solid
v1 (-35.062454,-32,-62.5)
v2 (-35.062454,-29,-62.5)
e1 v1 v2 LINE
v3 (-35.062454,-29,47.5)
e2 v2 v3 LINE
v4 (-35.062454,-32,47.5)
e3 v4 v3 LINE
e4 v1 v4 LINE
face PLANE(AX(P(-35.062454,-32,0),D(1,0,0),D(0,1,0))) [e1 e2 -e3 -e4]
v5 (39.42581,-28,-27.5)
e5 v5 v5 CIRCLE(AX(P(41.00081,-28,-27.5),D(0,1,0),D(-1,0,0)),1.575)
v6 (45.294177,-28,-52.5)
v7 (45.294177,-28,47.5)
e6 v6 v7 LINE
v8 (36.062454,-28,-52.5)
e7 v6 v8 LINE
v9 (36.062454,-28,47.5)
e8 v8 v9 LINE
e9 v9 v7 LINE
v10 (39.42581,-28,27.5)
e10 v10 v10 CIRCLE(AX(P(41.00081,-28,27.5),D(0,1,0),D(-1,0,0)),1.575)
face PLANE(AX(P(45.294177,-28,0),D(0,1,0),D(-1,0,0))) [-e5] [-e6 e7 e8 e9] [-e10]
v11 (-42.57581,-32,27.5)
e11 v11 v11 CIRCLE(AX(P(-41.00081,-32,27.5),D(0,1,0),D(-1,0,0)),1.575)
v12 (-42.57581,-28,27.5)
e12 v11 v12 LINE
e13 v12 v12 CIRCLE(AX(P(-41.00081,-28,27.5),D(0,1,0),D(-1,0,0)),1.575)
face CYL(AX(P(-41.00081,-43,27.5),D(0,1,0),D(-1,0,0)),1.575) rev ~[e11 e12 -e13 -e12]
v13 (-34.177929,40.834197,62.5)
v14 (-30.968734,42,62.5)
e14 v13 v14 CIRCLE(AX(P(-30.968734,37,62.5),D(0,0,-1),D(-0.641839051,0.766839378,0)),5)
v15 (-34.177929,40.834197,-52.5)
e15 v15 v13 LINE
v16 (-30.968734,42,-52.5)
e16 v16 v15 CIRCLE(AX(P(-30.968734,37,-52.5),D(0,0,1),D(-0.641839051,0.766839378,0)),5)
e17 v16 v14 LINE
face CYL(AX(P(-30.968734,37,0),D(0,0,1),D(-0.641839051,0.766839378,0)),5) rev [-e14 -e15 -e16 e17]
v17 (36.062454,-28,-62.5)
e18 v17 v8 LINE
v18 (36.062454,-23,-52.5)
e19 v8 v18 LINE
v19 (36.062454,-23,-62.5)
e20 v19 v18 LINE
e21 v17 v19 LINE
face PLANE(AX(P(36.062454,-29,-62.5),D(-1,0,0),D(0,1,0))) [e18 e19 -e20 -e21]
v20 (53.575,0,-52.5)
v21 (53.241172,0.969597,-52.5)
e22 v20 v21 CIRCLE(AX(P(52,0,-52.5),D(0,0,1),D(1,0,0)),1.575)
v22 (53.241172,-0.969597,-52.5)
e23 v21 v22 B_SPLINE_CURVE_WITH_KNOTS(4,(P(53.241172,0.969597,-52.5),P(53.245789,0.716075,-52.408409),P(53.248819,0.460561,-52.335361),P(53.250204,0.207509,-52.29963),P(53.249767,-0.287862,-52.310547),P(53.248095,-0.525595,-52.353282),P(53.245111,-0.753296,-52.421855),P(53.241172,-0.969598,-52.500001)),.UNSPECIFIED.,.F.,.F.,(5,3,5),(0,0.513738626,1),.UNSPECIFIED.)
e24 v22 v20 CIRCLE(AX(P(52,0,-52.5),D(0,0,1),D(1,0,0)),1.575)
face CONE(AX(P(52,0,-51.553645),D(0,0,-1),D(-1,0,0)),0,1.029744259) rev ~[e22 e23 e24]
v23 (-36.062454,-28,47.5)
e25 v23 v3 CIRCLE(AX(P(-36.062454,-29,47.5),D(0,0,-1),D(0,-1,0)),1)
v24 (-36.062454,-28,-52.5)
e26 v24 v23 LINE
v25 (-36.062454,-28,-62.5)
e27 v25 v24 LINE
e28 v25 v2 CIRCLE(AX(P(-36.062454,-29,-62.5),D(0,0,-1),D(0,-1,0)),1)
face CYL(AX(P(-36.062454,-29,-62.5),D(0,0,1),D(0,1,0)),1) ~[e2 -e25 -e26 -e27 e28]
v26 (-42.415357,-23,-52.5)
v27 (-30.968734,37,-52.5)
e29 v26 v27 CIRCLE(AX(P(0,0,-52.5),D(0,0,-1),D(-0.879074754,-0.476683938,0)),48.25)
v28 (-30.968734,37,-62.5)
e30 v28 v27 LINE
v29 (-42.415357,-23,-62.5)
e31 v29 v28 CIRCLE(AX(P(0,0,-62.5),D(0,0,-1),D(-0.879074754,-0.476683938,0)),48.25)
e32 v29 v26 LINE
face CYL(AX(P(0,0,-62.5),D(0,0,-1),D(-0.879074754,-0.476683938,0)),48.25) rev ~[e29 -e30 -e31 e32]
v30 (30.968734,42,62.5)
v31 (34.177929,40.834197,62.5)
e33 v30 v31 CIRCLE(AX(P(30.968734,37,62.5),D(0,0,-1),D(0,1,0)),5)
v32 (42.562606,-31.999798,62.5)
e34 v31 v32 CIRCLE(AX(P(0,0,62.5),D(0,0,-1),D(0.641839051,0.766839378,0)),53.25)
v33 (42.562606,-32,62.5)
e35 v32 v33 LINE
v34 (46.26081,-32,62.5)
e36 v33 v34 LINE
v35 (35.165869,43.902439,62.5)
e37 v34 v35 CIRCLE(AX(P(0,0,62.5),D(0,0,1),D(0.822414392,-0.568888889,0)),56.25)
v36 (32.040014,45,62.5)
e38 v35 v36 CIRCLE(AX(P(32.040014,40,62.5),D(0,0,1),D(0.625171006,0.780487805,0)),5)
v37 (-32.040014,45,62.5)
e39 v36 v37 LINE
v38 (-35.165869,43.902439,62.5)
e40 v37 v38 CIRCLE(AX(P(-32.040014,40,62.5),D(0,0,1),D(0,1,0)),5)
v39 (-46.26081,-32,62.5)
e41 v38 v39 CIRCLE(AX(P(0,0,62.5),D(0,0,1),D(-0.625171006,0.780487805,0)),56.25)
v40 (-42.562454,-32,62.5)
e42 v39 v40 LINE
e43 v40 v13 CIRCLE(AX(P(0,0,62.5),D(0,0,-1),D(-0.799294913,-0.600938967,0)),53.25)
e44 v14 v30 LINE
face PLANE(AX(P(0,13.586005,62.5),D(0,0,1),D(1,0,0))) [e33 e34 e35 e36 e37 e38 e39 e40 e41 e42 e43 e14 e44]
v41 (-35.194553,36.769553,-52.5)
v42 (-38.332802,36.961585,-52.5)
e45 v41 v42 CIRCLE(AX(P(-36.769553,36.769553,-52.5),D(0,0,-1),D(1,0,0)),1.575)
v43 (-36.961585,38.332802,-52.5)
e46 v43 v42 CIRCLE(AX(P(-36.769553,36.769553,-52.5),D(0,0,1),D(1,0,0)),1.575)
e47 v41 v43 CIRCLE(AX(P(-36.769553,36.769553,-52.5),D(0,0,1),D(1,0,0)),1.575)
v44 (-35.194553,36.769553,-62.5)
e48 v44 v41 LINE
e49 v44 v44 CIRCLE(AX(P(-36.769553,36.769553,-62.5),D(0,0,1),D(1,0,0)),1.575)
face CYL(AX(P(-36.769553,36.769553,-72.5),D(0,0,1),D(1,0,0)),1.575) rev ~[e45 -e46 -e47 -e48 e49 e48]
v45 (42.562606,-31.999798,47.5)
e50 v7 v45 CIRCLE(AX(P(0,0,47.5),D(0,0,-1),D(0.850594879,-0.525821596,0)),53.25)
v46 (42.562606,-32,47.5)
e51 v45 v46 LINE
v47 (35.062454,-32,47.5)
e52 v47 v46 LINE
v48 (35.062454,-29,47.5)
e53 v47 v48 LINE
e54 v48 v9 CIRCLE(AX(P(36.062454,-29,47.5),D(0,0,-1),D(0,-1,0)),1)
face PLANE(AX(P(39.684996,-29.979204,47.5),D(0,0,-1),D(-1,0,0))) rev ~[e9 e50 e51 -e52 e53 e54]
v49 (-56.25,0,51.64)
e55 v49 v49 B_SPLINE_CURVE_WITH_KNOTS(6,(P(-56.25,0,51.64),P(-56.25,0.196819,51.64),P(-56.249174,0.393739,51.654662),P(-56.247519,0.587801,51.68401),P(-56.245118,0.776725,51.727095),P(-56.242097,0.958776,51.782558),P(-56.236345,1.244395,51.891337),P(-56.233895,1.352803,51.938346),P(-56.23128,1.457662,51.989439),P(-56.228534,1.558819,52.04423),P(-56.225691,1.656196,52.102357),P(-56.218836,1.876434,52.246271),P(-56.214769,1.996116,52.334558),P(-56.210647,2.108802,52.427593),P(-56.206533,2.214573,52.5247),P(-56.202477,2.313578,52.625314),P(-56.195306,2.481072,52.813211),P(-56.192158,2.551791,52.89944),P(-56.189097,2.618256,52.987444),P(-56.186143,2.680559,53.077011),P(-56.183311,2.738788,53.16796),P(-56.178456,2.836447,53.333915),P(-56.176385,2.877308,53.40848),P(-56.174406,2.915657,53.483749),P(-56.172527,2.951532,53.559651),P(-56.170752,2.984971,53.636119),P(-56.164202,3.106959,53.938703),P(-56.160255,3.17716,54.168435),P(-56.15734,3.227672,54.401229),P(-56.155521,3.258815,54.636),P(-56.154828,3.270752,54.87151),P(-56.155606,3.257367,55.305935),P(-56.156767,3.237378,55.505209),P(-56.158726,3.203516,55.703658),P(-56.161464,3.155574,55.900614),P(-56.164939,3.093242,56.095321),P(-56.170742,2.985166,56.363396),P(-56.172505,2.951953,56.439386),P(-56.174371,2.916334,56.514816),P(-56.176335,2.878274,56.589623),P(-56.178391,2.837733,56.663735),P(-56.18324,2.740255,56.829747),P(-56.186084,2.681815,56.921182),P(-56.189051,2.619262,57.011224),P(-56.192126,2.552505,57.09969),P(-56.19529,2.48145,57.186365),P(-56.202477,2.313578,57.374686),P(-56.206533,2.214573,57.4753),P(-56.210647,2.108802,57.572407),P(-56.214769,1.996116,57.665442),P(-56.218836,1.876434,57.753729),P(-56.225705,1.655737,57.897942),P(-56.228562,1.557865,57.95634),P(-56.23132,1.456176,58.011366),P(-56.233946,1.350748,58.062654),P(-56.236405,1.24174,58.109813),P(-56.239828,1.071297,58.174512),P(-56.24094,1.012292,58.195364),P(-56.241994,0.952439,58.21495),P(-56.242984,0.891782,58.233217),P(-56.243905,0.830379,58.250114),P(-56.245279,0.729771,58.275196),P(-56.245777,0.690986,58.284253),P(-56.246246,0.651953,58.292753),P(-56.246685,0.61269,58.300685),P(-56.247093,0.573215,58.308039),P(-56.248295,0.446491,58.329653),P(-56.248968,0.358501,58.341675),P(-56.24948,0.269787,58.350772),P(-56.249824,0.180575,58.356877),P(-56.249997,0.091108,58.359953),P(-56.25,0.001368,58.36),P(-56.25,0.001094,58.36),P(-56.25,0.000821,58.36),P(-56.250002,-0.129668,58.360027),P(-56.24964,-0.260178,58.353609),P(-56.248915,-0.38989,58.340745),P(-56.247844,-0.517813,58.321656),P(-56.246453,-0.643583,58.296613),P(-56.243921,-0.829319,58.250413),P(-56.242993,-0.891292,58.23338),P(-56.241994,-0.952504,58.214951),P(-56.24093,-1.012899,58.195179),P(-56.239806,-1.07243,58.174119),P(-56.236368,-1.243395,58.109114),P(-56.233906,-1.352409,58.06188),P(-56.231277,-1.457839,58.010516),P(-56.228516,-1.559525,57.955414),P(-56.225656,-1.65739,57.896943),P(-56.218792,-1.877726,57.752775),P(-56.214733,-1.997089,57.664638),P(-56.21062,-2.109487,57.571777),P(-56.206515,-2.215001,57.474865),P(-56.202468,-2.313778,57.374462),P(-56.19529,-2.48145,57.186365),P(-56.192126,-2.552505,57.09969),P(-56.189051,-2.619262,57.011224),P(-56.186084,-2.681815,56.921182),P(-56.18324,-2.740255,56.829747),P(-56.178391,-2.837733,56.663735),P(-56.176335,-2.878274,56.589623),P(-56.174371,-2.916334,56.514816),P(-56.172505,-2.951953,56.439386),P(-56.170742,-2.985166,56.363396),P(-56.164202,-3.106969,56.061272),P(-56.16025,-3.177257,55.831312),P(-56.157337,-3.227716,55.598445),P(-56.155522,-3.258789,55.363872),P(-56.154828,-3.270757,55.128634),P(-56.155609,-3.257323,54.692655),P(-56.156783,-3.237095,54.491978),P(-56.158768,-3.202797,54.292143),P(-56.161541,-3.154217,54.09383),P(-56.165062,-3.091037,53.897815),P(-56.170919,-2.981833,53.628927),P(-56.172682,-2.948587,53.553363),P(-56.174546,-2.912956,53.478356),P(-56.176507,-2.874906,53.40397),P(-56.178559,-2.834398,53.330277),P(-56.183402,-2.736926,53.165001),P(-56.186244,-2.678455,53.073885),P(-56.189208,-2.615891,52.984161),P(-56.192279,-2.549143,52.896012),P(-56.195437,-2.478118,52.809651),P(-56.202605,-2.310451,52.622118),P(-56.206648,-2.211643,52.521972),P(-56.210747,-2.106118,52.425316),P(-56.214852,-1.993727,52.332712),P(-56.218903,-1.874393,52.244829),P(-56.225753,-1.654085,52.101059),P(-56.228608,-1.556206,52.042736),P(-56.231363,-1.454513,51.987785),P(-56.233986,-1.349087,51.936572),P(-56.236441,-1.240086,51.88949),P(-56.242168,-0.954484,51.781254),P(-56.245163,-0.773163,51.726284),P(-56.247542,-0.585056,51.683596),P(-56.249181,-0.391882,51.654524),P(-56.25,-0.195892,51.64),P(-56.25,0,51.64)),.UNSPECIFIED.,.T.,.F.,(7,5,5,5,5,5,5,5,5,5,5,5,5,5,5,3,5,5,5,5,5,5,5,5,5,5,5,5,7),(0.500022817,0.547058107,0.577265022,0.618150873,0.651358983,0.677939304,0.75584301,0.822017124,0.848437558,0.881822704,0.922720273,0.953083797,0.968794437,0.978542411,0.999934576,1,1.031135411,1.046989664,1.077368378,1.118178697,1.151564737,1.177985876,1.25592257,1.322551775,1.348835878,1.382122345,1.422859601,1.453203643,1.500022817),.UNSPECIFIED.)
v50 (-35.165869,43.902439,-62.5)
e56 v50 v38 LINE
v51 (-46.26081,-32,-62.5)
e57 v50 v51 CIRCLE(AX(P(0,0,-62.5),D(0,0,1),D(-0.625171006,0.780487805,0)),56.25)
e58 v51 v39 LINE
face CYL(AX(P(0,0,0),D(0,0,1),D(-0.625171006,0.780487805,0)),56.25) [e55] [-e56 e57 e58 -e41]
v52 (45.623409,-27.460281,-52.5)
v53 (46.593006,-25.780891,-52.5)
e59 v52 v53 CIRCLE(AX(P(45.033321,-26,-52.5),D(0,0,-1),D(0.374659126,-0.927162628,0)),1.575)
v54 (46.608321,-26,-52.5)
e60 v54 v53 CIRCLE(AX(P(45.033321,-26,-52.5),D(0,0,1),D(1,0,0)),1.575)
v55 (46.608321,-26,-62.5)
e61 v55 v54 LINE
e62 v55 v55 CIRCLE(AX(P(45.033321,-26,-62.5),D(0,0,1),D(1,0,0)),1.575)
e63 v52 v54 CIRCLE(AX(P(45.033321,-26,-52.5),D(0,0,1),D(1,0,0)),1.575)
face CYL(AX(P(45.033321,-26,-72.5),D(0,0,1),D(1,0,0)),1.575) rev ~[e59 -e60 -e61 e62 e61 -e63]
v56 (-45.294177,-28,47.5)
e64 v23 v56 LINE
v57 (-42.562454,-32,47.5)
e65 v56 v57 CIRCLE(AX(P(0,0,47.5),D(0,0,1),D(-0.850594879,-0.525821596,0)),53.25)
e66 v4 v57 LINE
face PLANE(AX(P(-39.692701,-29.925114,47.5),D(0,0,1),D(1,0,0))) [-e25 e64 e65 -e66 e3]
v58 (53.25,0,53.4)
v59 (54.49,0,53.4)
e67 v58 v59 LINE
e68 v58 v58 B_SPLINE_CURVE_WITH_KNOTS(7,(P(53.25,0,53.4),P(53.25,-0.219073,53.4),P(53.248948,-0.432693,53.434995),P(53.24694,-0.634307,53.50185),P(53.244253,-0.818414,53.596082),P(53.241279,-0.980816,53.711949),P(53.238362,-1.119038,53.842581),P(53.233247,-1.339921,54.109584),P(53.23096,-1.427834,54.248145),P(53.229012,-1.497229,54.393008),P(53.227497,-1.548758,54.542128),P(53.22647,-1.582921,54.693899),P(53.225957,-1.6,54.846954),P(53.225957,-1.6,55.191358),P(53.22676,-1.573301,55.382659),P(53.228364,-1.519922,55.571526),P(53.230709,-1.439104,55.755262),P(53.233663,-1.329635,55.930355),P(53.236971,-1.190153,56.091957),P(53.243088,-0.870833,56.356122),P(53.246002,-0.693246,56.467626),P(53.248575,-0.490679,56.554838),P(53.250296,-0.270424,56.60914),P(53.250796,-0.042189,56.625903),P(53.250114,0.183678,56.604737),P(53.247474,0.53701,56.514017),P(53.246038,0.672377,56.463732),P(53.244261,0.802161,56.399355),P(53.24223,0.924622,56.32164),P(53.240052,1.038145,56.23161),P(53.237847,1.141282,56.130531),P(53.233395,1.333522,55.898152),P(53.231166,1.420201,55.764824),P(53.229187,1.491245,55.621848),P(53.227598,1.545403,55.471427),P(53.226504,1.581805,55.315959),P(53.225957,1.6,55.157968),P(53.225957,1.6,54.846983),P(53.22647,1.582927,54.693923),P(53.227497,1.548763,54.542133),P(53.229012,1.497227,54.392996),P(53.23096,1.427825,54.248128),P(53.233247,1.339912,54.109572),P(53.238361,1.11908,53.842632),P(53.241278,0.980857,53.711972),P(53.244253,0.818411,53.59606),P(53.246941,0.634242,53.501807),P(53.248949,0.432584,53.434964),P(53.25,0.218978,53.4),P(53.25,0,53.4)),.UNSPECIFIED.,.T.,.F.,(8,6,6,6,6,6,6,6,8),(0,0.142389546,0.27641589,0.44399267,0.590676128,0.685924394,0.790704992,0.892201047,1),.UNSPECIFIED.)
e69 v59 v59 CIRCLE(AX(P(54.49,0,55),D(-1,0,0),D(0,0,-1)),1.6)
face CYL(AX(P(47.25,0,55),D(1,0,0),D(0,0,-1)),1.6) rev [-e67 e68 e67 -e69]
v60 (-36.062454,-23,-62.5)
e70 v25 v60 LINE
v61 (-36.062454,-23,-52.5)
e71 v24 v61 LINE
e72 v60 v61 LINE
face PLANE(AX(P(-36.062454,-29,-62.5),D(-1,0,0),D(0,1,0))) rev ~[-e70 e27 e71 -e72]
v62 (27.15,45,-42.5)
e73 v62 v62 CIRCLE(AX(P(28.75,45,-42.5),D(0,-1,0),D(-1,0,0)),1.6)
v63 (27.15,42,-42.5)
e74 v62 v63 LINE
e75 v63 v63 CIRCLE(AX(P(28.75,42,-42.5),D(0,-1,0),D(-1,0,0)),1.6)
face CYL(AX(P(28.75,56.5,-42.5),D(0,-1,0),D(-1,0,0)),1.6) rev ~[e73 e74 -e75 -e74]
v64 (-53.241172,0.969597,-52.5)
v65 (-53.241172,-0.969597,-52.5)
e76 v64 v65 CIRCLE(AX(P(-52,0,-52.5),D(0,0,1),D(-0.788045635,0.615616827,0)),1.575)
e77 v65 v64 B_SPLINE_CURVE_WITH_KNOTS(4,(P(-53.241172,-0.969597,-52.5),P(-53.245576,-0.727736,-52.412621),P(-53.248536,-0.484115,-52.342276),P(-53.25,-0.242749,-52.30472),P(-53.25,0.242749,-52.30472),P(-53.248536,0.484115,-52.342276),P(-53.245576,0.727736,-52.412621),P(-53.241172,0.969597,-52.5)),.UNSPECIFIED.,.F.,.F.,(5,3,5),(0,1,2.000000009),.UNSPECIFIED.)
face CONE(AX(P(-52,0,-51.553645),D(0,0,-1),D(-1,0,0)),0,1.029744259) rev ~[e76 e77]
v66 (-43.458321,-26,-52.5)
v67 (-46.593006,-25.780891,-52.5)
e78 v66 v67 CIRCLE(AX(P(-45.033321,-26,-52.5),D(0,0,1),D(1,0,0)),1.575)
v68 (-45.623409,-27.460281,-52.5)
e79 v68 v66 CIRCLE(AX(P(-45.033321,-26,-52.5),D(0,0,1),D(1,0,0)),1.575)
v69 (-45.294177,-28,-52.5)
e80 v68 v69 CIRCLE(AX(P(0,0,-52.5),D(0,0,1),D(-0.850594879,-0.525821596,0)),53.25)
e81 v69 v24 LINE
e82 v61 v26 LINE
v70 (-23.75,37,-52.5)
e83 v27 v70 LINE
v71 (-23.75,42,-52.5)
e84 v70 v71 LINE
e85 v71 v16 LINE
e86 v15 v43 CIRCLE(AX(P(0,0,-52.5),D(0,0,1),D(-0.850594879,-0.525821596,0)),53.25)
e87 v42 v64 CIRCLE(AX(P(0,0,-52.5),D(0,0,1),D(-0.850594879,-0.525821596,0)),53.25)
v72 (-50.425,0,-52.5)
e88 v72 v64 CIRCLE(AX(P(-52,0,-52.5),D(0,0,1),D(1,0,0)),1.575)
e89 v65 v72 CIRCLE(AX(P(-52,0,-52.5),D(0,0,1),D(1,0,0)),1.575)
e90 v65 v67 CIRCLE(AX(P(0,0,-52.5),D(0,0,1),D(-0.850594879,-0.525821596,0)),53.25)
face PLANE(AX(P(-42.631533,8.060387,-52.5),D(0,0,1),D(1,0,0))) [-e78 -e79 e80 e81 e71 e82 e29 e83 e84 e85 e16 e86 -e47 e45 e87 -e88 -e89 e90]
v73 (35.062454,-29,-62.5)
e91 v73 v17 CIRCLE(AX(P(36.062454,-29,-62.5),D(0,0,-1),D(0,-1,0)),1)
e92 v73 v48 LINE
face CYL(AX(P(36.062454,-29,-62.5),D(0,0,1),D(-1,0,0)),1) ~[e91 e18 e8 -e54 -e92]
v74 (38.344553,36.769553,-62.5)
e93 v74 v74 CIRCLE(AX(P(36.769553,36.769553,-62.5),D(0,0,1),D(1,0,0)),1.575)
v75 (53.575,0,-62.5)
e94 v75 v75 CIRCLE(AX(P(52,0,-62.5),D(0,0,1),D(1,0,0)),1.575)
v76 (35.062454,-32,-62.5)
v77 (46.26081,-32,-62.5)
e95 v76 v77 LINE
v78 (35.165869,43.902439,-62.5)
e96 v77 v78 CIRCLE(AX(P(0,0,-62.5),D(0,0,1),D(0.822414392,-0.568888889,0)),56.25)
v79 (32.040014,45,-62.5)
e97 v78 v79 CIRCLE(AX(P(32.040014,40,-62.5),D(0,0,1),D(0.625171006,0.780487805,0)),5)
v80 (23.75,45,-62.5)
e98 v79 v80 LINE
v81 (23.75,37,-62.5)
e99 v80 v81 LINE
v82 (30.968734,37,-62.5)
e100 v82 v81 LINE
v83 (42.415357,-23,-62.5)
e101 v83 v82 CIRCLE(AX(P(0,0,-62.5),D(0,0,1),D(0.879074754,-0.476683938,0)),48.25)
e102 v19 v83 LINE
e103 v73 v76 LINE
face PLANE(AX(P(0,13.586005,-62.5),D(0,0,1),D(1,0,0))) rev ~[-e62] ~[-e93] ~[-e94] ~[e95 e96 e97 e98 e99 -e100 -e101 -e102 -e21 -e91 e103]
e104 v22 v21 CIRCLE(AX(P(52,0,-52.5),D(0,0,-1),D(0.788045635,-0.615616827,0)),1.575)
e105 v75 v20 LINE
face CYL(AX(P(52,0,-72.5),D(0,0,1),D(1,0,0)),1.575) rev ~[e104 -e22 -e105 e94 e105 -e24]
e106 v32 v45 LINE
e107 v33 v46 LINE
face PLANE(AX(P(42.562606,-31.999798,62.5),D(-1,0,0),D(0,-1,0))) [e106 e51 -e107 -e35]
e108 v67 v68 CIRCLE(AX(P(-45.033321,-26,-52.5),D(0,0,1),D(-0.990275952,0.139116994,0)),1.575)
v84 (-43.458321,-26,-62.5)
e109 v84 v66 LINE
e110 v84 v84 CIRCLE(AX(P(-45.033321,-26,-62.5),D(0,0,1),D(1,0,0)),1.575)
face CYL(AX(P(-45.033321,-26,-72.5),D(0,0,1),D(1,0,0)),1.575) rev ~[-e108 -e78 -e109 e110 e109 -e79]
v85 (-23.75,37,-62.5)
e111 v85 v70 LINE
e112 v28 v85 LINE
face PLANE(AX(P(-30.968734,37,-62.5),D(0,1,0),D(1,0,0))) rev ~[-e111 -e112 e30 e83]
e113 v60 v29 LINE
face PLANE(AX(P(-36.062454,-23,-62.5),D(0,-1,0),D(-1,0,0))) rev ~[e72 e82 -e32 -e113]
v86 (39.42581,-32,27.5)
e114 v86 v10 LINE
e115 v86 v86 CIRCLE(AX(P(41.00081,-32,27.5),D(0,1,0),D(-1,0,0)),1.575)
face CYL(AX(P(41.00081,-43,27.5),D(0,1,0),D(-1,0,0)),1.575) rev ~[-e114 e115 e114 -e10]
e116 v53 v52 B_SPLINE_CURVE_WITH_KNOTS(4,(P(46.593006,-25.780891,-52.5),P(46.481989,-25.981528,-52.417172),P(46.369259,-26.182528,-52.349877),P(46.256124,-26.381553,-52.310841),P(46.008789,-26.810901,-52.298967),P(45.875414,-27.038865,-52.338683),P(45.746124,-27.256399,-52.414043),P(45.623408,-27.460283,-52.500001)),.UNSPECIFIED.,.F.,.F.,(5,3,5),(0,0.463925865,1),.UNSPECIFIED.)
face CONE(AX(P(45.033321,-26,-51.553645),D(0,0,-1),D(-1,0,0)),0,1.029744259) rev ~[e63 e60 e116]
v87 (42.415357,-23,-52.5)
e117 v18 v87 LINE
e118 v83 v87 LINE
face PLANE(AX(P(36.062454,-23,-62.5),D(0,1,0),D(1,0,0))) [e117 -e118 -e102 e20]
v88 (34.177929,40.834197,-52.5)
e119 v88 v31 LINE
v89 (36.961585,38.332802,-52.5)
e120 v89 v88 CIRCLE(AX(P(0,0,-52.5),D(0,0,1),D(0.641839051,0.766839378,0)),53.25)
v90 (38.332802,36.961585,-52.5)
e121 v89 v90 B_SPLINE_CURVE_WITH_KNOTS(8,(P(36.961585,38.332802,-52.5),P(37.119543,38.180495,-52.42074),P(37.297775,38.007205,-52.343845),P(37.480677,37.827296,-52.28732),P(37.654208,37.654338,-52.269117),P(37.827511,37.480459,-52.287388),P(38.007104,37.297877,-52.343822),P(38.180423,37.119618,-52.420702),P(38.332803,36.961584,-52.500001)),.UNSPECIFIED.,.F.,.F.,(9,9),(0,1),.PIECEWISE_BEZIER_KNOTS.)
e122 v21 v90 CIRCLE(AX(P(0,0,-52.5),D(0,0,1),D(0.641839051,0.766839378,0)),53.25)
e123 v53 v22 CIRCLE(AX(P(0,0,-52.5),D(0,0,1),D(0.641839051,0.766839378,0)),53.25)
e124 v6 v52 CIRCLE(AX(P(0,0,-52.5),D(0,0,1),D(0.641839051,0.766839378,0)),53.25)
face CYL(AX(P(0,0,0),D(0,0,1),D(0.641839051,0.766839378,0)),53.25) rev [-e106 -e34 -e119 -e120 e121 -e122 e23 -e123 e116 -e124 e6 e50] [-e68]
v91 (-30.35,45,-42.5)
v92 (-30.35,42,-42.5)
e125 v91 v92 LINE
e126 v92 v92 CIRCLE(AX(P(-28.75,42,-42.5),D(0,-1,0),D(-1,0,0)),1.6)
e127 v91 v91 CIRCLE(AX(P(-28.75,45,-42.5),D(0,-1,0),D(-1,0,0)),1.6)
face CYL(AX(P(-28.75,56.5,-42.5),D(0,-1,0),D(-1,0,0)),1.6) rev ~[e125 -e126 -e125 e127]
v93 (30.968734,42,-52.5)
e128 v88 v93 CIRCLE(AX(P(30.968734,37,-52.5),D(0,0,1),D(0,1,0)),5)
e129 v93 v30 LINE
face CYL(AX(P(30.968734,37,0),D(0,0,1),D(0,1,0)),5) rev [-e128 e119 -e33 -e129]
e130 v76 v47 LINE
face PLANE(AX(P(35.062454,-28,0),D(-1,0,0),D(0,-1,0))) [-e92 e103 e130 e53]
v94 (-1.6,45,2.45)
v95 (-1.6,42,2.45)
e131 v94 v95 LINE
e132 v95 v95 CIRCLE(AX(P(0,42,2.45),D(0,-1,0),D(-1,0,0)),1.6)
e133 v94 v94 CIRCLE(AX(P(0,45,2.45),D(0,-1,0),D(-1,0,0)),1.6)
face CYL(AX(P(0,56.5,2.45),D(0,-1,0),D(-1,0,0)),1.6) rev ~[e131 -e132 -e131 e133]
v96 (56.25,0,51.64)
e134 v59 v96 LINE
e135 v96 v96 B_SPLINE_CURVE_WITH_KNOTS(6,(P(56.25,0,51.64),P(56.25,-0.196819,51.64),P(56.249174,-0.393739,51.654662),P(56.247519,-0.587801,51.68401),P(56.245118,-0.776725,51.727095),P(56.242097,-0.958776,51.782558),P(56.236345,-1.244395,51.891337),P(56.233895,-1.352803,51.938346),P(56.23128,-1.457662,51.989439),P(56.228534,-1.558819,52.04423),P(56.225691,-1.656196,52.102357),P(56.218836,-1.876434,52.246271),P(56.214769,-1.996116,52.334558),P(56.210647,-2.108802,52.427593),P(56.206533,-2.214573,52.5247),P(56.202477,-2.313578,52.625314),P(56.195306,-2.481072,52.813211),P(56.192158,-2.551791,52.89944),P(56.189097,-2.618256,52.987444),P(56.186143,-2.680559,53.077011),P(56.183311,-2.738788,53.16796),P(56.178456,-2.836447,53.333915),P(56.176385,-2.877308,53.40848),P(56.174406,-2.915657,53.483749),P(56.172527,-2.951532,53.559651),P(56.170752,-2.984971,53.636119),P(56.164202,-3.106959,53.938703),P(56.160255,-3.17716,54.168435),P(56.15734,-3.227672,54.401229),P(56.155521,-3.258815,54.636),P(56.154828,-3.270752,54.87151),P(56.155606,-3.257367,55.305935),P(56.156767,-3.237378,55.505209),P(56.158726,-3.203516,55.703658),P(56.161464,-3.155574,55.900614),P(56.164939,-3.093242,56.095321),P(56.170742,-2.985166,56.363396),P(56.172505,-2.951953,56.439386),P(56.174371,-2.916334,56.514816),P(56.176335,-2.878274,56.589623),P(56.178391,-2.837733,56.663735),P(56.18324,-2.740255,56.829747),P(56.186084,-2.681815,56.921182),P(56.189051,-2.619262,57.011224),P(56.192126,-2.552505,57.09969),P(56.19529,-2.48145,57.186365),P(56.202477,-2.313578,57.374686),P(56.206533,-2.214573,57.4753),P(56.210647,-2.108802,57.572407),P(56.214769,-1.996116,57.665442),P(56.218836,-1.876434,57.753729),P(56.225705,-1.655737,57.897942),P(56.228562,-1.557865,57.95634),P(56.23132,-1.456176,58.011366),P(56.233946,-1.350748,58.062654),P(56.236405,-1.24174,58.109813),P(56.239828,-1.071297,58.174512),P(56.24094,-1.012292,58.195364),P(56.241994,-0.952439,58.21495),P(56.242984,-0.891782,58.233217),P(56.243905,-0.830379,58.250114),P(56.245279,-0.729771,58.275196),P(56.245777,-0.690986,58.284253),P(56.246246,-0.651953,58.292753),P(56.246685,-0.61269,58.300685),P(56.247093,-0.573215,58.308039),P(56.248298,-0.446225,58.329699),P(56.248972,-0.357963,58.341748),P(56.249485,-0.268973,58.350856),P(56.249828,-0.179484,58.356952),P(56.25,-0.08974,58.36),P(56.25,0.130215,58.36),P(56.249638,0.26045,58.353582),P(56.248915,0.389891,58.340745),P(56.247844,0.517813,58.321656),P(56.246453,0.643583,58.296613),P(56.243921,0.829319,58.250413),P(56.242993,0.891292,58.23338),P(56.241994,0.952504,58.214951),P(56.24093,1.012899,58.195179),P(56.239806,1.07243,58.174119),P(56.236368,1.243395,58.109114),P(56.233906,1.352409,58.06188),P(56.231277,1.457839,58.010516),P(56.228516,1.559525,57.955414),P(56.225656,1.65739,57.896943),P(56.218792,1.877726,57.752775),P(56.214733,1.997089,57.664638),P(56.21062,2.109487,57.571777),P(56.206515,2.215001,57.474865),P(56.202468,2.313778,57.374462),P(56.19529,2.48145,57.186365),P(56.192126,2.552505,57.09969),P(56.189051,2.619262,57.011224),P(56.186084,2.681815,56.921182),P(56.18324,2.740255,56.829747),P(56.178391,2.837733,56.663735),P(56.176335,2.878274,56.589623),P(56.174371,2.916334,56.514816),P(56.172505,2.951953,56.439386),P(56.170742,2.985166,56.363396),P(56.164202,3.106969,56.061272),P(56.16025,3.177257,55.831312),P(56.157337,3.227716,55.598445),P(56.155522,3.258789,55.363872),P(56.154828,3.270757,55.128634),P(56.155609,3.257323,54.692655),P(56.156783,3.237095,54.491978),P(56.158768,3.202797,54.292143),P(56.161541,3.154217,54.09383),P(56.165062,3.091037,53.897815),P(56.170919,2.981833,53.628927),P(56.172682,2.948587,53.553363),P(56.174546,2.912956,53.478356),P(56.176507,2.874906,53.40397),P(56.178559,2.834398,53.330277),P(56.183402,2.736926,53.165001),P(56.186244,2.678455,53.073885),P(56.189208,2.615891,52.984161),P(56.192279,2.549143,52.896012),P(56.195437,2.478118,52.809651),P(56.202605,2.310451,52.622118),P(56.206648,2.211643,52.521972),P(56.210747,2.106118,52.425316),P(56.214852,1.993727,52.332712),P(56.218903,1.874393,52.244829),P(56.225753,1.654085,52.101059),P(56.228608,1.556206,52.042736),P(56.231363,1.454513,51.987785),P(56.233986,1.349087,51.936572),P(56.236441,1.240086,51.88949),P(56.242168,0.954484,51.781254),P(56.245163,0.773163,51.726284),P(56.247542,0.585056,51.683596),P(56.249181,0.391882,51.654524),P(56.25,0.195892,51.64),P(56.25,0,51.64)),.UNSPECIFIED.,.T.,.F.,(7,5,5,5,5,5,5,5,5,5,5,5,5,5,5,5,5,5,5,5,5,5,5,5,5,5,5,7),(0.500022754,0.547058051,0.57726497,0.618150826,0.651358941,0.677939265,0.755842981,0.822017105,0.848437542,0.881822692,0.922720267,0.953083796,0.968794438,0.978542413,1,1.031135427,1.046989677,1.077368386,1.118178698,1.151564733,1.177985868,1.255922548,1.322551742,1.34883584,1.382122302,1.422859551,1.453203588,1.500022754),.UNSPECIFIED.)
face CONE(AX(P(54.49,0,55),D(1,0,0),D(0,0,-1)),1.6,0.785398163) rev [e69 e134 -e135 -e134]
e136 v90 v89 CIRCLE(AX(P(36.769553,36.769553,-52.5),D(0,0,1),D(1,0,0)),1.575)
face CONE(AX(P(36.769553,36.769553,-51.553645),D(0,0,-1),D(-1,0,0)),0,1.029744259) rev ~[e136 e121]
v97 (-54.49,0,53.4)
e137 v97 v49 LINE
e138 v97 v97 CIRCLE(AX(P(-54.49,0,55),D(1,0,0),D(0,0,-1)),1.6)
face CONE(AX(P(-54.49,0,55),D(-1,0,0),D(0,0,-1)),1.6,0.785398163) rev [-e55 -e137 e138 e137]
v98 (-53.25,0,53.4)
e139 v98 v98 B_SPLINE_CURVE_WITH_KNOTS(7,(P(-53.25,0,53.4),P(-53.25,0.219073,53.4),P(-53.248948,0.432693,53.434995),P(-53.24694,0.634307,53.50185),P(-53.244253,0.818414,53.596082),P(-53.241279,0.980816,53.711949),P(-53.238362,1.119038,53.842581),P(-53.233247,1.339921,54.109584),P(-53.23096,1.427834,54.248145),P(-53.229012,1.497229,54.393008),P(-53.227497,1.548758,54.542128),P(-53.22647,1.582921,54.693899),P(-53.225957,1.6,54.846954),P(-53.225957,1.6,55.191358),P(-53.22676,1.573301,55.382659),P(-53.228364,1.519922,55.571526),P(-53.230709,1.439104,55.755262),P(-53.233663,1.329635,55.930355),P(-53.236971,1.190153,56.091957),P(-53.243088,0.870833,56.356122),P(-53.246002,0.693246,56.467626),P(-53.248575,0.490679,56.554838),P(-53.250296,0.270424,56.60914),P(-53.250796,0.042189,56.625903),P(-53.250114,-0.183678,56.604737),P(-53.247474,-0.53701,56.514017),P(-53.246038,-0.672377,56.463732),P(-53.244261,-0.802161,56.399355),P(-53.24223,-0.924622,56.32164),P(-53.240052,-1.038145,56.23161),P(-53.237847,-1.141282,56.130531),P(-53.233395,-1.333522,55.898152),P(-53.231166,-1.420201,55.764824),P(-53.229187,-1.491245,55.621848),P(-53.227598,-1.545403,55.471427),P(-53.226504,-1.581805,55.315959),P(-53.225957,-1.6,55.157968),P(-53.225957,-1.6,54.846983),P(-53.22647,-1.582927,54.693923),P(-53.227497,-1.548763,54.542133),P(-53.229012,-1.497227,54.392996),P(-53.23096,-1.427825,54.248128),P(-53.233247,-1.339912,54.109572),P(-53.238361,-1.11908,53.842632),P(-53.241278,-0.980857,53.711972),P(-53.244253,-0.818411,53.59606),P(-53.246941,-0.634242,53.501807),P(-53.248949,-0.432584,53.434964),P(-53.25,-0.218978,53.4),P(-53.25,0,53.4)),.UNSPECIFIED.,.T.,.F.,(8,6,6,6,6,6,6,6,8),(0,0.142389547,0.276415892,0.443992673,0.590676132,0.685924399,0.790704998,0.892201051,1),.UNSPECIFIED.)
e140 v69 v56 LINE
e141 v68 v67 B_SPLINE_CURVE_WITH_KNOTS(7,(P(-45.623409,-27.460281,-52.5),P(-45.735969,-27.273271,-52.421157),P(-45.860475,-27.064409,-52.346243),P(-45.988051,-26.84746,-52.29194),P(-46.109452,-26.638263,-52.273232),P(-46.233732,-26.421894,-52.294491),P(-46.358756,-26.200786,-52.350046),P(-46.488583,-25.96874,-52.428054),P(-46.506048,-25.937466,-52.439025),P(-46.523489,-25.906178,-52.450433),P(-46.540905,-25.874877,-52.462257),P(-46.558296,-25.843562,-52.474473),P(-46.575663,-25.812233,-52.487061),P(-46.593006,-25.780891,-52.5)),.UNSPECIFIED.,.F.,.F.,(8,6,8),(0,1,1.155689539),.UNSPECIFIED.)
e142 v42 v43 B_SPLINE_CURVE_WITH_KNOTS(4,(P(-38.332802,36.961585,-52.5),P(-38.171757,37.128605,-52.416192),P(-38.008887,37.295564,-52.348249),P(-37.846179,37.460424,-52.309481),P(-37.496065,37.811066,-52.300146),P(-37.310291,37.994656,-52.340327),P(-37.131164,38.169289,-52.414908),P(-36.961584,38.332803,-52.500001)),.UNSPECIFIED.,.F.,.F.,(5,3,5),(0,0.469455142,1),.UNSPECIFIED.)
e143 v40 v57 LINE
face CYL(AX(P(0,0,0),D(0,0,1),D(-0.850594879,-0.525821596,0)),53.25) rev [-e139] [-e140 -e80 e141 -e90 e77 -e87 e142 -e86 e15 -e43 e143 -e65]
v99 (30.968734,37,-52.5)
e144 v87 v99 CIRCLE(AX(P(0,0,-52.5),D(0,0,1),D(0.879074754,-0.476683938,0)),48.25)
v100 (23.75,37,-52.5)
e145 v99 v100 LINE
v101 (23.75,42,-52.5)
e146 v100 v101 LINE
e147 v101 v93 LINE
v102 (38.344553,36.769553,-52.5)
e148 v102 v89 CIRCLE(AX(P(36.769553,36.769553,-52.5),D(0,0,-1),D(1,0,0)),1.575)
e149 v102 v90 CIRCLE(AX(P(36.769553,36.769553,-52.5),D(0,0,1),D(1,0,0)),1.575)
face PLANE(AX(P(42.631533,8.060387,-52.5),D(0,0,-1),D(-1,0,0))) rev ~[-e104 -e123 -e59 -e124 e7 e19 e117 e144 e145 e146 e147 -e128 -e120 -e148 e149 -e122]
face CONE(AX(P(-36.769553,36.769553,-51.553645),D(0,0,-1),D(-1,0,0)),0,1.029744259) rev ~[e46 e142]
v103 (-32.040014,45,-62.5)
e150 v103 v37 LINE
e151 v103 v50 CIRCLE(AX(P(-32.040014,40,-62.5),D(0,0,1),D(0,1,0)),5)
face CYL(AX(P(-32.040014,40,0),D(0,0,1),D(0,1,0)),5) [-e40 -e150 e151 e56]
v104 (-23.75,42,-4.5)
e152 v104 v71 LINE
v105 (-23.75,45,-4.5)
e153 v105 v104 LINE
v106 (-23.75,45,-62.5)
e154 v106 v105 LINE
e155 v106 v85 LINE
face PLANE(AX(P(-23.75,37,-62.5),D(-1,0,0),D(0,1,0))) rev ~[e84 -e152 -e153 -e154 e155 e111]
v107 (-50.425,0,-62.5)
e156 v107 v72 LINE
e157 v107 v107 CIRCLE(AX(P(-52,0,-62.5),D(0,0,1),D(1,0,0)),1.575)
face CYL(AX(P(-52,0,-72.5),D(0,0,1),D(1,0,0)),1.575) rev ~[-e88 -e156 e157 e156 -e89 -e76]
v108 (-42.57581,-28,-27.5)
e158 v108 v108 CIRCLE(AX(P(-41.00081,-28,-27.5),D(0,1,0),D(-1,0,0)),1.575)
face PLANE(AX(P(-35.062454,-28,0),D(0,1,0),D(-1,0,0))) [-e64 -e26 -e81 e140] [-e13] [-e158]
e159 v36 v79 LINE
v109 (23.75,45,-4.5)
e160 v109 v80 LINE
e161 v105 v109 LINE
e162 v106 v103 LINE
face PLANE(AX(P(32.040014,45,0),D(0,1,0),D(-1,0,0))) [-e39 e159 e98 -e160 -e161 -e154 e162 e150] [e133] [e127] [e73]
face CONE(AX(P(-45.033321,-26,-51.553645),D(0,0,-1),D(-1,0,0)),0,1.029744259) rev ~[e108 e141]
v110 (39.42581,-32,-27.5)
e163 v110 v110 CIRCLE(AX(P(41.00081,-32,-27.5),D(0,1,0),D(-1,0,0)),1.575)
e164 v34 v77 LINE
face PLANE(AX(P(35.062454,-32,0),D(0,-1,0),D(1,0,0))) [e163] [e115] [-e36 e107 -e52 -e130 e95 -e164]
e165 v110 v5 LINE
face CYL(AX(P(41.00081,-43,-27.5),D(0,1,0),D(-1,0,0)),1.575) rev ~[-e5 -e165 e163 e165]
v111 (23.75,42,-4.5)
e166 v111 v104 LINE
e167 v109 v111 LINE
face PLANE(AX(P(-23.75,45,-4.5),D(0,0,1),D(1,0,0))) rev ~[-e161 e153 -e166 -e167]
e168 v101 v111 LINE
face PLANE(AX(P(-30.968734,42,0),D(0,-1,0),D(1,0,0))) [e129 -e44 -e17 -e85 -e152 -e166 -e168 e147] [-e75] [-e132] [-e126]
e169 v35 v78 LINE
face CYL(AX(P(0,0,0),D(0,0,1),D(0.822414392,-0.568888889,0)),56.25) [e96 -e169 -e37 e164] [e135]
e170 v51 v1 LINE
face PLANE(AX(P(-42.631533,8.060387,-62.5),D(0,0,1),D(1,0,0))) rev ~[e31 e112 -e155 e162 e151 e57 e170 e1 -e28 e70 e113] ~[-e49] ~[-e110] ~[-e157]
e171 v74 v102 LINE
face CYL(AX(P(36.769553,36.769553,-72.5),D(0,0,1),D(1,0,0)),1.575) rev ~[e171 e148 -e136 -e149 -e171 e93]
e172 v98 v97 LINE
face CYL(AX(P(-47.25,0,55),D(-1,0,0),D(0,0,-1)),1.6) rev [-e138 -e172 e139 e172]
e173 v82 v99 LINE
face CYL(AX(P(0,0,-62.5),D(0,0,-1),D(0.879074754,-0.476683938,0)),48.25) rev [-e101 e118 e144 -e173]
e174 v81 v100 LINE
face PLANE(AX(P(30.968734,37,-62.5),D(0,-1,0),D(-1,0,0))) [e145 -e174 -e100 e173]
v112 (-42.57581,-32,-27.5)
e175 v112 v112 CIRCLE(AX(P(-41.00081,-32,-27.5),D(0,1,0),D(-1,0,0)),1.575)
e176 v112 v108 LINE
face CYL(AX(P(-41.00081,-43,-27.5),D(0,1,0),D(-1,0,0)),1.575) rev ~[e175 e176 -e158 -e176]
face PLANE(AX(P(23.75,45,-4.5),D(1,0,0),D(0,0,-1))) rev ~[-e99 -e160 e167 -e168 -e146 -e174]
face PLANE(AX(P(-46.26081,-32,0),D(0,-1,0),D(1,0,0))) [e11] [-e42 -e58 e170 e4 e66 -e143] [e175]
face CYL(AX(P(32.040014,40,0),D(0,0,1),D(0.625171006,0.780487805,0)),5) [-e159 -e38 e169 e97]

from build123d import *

# Parameters (mm, degrees)
Y_KSEKLIK_EKSTR_ZYON2_DEPTH             = 62.5
KES_EKSTR_ZYON5_DEPTH                   = 15
KES_EKSTR_ZYON6_DEPTH                   = 15
M3_BO_LUKLU_DELIK1_D                    = 3.2
M3_BO_LUKLU_DELIK1_DEPTH                = 11.5
M3_BO_LUKLU_DELIK1_TIP                  = 0.9613769904440965
M3X0_5_HELISARMAL_IN_DI_LI_DELIK2_D     = 3.15
M3X0_5_HELISARMAL_IN_DI_LI_DELIK2_DEPTH = 11
M3X0_5_HELISARMAL_IN_DI_LI_DELIK2_TIP   = 0.9463554749684074
RADYUS1_R                               = 1
Y_KSEKLIK_EKSTR_ZYON3_DEPTH             = 10
M3X0_5_HELISARMAL_IN_DI_LI_DELIK1_D     = 3.15
M3X0_5_HELISARMAL_IN_DI_LI_DELIK1_DEPTH = 10
M3X0_5_HELISARMAL_IN_DI_LI_DELIK1_TIP   = 0.9463554749684074
DAIRESEL_KAPLAMA1_COUNT                 = 2
DAIRESEL_KAPLAMA1_ANGLE                 = 180.0000000000004


with BuildPart() as part:
    # Çizim1 → Yükseklik-Ekstrüzyon2 (new, symmetric)
    with BuildSketch(Plane.XY):
        with BuildLine():
            Line((32.04001404494075, 45), (-32.04001404494075, 45))
            ThreePointArc((-32.04001404494075, 45), (-33.696486936063444, 44.7176368619231), (-35.165869073715456, 43.90243902439025))
            ThreePointArc((-35.165869073715456, 43.90243902439025), (-55.65852190175254, 8.135812172864675), (-46.260809547607366, -32))
            Line((-46.260809547607366, -32), (-35.06245411157585, -32))
            Line((-35.06245411157585, -32), (-35.06245411157585, -28))
            Line((-35.06245411157585, -28), (-45.2941773299836, -28.000000000000007))
            ThreePointArc((-45.2941773299836, -28.000000000000007), (-52.56891292419714, 8.48951670992989), (-34.1779294904093, 40.83419689119171))
            ThreePointArc((-34.1779294904093, 40.83419689119171), (-32.67592718411632, 41.69952042531781), (-30.968734233093876, 41.99999999999999))
            Line((-30.968734233093876, 41.99999999999999), (30.968734233093905, 41.99999999999997))
            ThreePointArc((30.968734233093905, 41.99999999999997), (32.675927184116354, 41.699520425317786), (34.17792949040933, 40.83419689119169))
            ThreePointArc((34.17792949040933, 40.83419689119169), (52.56891292419713, 8.489516709929875), (45.2941773299836, -27.99999999999998))
            Line((45.2941773299836, -27.99999999999998), (35.06245411157585, -27.99999999999998))
            Line((35.06245411157585, -27.99999999999998), (35.06245411157587, -31.999999999999957))
            Line((35.06245411157587, -31.999999999999957), (46.260809547607366, -32))
            ThreePointArc((46.260809547607366, -32), (55.65852190175254, 8.13581217286468), (35.165869073715456, 43.90243902439025))
            ThreePointArc((35.165869073715456, 43.90243902439025), (33.696486936063444, 44.7176368619231), (32.04001404494075, 45))
        make_face()
    extrude(amount=Y_KSEKLIK_EKSTR_ZYON2_DEPTH, both=True)

    # Çizim3 → Kes-Ekstrüzyon5 (cut)
    with BuildSketch(Plane.XY.offset(62.5)):
        with BuildLine():
            Line((-42.56245411157586, -31.99999999999998), (-42.56245411157586, -32.283572214894534))
            Line((-42.56245411157586, -32.283572214894534), (-35.06245411157585, -32.283572214894534))
            Line((-35.06245411157585, -32.283572214894534), (-35.06245411157585, -32))
            Line((-35.06245411157585, -32), (-35.06245411157585, -28))
            Line((-35.06245411157585, -28), (-45.2941773299836, -28.000000000000007))
            ThreePointArc((-45.2941773299836, -28.000000000000007), (-43.97382087179262, -30.031076869394756), (-42.56245411157586, -31.99999999999998))
        make_face()
        with BuildLine():
            Line((35.06245411157585, -27.99999999999998), (45.294177329983604, -27.99999999999998))
            ThreePointArc((45.294177329983604, -27.99999999999998), (43.97389225931995, -30.030972337999984), (42.56260624715447, -31.999797647011572))
            Line((42.56260624715447, -31.999797647011572), (42.56260624715447, -32.40361379134536))
            Line((42.56260624715447, -32.40361379134536), (35.06245411157587, -32.40361379134536))
            Line((35.06245411157587, -32.40361379134536), (35.06245411157587, -31.999999999999957))
            Line((35.06245411157587, -31.999999999999957), (35.06245411157585, -27.99999999999998))
        make_face()
    extrude(amount=-KES_EKSTR_ZYON5_DEPTH, mode=Mode.SUBTRACT)

    # Çizim4 → Kes-Ekstrüzyon6 (cut)
    with BuildSketch(Plane(origin=(0, 45, 0), x_dir=(1, 0, 0), z_dir=(0, 1, 0))):
        Polygon((23.75, 62.49999999999993), (-23.75, 62.5), (-23.749999999999993, 4.499999999999997), (23.749999999999993, 4.499999999999997), align=None)
    extrude(amount=-KES_EKSTR_ZYON6_DEPTH, mode=Mode.SUBTRACT)

    # M3 Boşluklu Delik1
    with Locations(Plane(origin=(0, 45, 0), x_dir=(1, 0, 0), z_dir=(0, 1, 0))):
        with Locations((0, -2.45), (-28.75, 42.5), (28.75, 42.5)):
            Hole(M3_BO_LUKLU_DELIK1_D / 2, depth=M3_BO_LUKLU_DELIK1_DEPTH)
            with Locations((0, 0, -(M3_BO_LUKLU_DELIK1_DEPTH + M3_BO_LUKLU_DELIK1_TIP / 2))):  # 118° drill point
                Cone(0, M3_BO_LUKLU_DELIK1_D / 2, M3_BO_LUKLU_DELIK1_TIP, mode=Mode.SUBTRACT)

    # M3x0.5 Helisarmal İçin Dişli Delik2
    with Locations(Plane.XZ.offset(32)):
        with Locations((41.000809548, -27.5), (-41.000809548, -27.5), (-41.000809548, 27.5), (41.000809548, 27.5)):
            Hole(M3X0_5_HELISARMAL_IN_DI_LI_DELIK2_D / 2, depth=M3X0_5_HELISARMAL_IN_DI_LI_DELIK2_DEPTH)
            with Locations((0, 0, -(M3X0_5_HELISARMAL_IN_DI_LI_DELIK2_DEPTH + M3X0_5_HELISARMAL_IN_DI_LI_DELIK2_TIP / 2))):  # 118° drill point
                Cone(0, M3X0_5_HELISARMAL_IN_DI_LI_DELIK2_D / 2, M3X0_5_HELISARMAL_IN_DI_LI_DELIK2_TIP, mode=Mode.SUBTRACT)

    # Radyus1
    radyus1_edges = [part.edges().sort_by_distance(p)[0] for p in [
        (35.06245411157585, -27.99999999999998, -7.5),
        (-35.06245411157585, -28, -7.5),
    ]]
    fillet(radyus1_edges, radius=RADYUS1_R)

    # Çizim14 → Yükseklik-Ekstrüzyon3 (add)
    with BuildSketch(Plane(origin=(0, 0, -62.5), x_dir=(-1, 0, 0), z_dir=(0, 0, -1))):
        with BuildLine():
            Line((36.06245411157586, -23), (42.41535688874963, -23.000000000000004))
            ThreePointArc((42.41535688874963, -23.000000000000004), (47.39521291696829, 9.04191863241662), (30.968734233093883, 37))
            Line((30.968734233093883, 37), (23.75000000000001, 36.999999999999986))
            Line((23.75000000000001, 36.999999999999986), (23.749999999999996, 42.999999999999986))
            Line((23.749999999999996, 42.999999999999986), (30.968734233093873, 43))
            ThreePointArc((30.968734233093873, 43), (33.0173657743208, 42.63942451038137), (34.81976854187237, 41.60103626943006))
            ThreePointArc((34.81976854187237, 41.60103626943006), (53.59999153018334, 8.372777792601147), (45.848255146733784, -29.000000000000004))
            Line((45.848255146733784, -29.000000000000004), (36.06245411157585, -29))
            Line((36.06245411157585, -29), (36.06245411157586, -23))
        make_face()
        with BuildLine():
            Line((-23.75, 42.999999999999986), (-30.968734233093905, 42.99999999999998))
            ThreePointArc((-30.968734233093905, 42.99999999999998), (-33.01736577432084, 42.639424510381346), (-34.819768541872406, 41.601036269430026))
            ThreePointArc((-34.819768541872406, 41.601036269430026), (-53.59999153018334, 8.372777792601134), (-45.8482551467338, -28.999999999999982))
            Line((-45.8482551467338, -28.999999999999982), (-36.06245411157586, -28.999999999999982))
            Line((-36.06245411157586, -28.999999999999982), (-36.06245411157586, -22.99999999999998))
            Line((-36.06245411157586, -22.99999999999998), (-42.415356888749635, -22.99999999999998))
            ThreePointArc((-42.415356888749635, -22.99999999999998), (-47.39521291696828, 9.041918632416632), (-30.968734233093908, 36.99999999999998))
            Line((-30.968734233093908, 36.99999999999998), (-23.749999999999996, 36.999999999999986))
            Line((-23.749999999999996, 36.999999999999986), (-23.75, 42.999999999999986))
        make_face()
    extrude(amount=-Y_KSEKLIK_EKSTR_ZYON3_DEPTH)

    # M3x0.5 Helisarmal İçin Dişli Delik1
    with Locations(Plane(origin=(0, 0, -62.5), x_dir=(-1, 0, 0), z_dir=(0, 0, -1))):
        with Locations((36.769552622, 36.769552622), (-52, 0), (-36.769552622, 36.769552622), (-45.033320997, -26), (52, 0), (45.033320997, -26)):
            Hole(M3X0_5_HELISARMAL_IN_DI_LI_DELIK1_D / 2, depth=M3X0_5_HELISARMAL_IN_DI_LI_DELIK1_DEPTH)
            with Locations((0, 0, -(M3X0_5_HELISARMAL_IN_DI_LI_DELIK1_DEPTH + M3X0_5_HELISARMAL_IN_DI_LI_DELIK1_TIP / 2))):  # 118° drill point
                Cone(0, M3X0_5_HELISARMAL_IN_DI_LI_DELIK1_D / 2, M3X0_5_HELISARMAL_IN_DI_LI_DELIK1_TIP, mode=Mode.SUBTRACT)

    # Çizim22 → M3 Altıgen Alyan Havşa Başlı Kör Vida İçin Havşa3 (revolve, cut)
    with BuildSketch(Plane(origin=(56.25, -7e-17, 55), x_dir=(0, 0, -1), z_dir=(0, 1, 0))):
        Polygon((0, 0), (-1.4e-15, 9.961376990444082), (1.5999999999999868, 8.999999999999995), (1.5999999999999885, 1.7600000000000116), (3.3600000000000003, -1.73e-15), align=None)
    m3_alt_gen_alyan_hav_a_ba_l_k_r_vida_i = revolve(axis=Axis((62.599999999999994, -7e-17, 55), (-1, 0, 0)), mode=Mode.SUBTRACT)

    # Dairesel Kaplama1: M3 Altıgen Alyan Havşa Başlı Kör Vida İçin Havşa3 ×2 about axis
    dairesel_kaplama1_axis = Axis((0, 0, 62.5), (0, 0, 1))
    for i in range(1, DAIRESEL_KAPLAMA1_COUNT):
        add(m3_alt_gen_alyan_hav_a_ba_l_k_r_vida_i.rotate(dairesel_kaplama1_axis, i * DAIRESEL_KAPLAMA1_ANGLE / (DAIRESEL_KAPLAMA1_COUNT - 1)), mode=Mode.SUBTRACT)


solid = part.part
